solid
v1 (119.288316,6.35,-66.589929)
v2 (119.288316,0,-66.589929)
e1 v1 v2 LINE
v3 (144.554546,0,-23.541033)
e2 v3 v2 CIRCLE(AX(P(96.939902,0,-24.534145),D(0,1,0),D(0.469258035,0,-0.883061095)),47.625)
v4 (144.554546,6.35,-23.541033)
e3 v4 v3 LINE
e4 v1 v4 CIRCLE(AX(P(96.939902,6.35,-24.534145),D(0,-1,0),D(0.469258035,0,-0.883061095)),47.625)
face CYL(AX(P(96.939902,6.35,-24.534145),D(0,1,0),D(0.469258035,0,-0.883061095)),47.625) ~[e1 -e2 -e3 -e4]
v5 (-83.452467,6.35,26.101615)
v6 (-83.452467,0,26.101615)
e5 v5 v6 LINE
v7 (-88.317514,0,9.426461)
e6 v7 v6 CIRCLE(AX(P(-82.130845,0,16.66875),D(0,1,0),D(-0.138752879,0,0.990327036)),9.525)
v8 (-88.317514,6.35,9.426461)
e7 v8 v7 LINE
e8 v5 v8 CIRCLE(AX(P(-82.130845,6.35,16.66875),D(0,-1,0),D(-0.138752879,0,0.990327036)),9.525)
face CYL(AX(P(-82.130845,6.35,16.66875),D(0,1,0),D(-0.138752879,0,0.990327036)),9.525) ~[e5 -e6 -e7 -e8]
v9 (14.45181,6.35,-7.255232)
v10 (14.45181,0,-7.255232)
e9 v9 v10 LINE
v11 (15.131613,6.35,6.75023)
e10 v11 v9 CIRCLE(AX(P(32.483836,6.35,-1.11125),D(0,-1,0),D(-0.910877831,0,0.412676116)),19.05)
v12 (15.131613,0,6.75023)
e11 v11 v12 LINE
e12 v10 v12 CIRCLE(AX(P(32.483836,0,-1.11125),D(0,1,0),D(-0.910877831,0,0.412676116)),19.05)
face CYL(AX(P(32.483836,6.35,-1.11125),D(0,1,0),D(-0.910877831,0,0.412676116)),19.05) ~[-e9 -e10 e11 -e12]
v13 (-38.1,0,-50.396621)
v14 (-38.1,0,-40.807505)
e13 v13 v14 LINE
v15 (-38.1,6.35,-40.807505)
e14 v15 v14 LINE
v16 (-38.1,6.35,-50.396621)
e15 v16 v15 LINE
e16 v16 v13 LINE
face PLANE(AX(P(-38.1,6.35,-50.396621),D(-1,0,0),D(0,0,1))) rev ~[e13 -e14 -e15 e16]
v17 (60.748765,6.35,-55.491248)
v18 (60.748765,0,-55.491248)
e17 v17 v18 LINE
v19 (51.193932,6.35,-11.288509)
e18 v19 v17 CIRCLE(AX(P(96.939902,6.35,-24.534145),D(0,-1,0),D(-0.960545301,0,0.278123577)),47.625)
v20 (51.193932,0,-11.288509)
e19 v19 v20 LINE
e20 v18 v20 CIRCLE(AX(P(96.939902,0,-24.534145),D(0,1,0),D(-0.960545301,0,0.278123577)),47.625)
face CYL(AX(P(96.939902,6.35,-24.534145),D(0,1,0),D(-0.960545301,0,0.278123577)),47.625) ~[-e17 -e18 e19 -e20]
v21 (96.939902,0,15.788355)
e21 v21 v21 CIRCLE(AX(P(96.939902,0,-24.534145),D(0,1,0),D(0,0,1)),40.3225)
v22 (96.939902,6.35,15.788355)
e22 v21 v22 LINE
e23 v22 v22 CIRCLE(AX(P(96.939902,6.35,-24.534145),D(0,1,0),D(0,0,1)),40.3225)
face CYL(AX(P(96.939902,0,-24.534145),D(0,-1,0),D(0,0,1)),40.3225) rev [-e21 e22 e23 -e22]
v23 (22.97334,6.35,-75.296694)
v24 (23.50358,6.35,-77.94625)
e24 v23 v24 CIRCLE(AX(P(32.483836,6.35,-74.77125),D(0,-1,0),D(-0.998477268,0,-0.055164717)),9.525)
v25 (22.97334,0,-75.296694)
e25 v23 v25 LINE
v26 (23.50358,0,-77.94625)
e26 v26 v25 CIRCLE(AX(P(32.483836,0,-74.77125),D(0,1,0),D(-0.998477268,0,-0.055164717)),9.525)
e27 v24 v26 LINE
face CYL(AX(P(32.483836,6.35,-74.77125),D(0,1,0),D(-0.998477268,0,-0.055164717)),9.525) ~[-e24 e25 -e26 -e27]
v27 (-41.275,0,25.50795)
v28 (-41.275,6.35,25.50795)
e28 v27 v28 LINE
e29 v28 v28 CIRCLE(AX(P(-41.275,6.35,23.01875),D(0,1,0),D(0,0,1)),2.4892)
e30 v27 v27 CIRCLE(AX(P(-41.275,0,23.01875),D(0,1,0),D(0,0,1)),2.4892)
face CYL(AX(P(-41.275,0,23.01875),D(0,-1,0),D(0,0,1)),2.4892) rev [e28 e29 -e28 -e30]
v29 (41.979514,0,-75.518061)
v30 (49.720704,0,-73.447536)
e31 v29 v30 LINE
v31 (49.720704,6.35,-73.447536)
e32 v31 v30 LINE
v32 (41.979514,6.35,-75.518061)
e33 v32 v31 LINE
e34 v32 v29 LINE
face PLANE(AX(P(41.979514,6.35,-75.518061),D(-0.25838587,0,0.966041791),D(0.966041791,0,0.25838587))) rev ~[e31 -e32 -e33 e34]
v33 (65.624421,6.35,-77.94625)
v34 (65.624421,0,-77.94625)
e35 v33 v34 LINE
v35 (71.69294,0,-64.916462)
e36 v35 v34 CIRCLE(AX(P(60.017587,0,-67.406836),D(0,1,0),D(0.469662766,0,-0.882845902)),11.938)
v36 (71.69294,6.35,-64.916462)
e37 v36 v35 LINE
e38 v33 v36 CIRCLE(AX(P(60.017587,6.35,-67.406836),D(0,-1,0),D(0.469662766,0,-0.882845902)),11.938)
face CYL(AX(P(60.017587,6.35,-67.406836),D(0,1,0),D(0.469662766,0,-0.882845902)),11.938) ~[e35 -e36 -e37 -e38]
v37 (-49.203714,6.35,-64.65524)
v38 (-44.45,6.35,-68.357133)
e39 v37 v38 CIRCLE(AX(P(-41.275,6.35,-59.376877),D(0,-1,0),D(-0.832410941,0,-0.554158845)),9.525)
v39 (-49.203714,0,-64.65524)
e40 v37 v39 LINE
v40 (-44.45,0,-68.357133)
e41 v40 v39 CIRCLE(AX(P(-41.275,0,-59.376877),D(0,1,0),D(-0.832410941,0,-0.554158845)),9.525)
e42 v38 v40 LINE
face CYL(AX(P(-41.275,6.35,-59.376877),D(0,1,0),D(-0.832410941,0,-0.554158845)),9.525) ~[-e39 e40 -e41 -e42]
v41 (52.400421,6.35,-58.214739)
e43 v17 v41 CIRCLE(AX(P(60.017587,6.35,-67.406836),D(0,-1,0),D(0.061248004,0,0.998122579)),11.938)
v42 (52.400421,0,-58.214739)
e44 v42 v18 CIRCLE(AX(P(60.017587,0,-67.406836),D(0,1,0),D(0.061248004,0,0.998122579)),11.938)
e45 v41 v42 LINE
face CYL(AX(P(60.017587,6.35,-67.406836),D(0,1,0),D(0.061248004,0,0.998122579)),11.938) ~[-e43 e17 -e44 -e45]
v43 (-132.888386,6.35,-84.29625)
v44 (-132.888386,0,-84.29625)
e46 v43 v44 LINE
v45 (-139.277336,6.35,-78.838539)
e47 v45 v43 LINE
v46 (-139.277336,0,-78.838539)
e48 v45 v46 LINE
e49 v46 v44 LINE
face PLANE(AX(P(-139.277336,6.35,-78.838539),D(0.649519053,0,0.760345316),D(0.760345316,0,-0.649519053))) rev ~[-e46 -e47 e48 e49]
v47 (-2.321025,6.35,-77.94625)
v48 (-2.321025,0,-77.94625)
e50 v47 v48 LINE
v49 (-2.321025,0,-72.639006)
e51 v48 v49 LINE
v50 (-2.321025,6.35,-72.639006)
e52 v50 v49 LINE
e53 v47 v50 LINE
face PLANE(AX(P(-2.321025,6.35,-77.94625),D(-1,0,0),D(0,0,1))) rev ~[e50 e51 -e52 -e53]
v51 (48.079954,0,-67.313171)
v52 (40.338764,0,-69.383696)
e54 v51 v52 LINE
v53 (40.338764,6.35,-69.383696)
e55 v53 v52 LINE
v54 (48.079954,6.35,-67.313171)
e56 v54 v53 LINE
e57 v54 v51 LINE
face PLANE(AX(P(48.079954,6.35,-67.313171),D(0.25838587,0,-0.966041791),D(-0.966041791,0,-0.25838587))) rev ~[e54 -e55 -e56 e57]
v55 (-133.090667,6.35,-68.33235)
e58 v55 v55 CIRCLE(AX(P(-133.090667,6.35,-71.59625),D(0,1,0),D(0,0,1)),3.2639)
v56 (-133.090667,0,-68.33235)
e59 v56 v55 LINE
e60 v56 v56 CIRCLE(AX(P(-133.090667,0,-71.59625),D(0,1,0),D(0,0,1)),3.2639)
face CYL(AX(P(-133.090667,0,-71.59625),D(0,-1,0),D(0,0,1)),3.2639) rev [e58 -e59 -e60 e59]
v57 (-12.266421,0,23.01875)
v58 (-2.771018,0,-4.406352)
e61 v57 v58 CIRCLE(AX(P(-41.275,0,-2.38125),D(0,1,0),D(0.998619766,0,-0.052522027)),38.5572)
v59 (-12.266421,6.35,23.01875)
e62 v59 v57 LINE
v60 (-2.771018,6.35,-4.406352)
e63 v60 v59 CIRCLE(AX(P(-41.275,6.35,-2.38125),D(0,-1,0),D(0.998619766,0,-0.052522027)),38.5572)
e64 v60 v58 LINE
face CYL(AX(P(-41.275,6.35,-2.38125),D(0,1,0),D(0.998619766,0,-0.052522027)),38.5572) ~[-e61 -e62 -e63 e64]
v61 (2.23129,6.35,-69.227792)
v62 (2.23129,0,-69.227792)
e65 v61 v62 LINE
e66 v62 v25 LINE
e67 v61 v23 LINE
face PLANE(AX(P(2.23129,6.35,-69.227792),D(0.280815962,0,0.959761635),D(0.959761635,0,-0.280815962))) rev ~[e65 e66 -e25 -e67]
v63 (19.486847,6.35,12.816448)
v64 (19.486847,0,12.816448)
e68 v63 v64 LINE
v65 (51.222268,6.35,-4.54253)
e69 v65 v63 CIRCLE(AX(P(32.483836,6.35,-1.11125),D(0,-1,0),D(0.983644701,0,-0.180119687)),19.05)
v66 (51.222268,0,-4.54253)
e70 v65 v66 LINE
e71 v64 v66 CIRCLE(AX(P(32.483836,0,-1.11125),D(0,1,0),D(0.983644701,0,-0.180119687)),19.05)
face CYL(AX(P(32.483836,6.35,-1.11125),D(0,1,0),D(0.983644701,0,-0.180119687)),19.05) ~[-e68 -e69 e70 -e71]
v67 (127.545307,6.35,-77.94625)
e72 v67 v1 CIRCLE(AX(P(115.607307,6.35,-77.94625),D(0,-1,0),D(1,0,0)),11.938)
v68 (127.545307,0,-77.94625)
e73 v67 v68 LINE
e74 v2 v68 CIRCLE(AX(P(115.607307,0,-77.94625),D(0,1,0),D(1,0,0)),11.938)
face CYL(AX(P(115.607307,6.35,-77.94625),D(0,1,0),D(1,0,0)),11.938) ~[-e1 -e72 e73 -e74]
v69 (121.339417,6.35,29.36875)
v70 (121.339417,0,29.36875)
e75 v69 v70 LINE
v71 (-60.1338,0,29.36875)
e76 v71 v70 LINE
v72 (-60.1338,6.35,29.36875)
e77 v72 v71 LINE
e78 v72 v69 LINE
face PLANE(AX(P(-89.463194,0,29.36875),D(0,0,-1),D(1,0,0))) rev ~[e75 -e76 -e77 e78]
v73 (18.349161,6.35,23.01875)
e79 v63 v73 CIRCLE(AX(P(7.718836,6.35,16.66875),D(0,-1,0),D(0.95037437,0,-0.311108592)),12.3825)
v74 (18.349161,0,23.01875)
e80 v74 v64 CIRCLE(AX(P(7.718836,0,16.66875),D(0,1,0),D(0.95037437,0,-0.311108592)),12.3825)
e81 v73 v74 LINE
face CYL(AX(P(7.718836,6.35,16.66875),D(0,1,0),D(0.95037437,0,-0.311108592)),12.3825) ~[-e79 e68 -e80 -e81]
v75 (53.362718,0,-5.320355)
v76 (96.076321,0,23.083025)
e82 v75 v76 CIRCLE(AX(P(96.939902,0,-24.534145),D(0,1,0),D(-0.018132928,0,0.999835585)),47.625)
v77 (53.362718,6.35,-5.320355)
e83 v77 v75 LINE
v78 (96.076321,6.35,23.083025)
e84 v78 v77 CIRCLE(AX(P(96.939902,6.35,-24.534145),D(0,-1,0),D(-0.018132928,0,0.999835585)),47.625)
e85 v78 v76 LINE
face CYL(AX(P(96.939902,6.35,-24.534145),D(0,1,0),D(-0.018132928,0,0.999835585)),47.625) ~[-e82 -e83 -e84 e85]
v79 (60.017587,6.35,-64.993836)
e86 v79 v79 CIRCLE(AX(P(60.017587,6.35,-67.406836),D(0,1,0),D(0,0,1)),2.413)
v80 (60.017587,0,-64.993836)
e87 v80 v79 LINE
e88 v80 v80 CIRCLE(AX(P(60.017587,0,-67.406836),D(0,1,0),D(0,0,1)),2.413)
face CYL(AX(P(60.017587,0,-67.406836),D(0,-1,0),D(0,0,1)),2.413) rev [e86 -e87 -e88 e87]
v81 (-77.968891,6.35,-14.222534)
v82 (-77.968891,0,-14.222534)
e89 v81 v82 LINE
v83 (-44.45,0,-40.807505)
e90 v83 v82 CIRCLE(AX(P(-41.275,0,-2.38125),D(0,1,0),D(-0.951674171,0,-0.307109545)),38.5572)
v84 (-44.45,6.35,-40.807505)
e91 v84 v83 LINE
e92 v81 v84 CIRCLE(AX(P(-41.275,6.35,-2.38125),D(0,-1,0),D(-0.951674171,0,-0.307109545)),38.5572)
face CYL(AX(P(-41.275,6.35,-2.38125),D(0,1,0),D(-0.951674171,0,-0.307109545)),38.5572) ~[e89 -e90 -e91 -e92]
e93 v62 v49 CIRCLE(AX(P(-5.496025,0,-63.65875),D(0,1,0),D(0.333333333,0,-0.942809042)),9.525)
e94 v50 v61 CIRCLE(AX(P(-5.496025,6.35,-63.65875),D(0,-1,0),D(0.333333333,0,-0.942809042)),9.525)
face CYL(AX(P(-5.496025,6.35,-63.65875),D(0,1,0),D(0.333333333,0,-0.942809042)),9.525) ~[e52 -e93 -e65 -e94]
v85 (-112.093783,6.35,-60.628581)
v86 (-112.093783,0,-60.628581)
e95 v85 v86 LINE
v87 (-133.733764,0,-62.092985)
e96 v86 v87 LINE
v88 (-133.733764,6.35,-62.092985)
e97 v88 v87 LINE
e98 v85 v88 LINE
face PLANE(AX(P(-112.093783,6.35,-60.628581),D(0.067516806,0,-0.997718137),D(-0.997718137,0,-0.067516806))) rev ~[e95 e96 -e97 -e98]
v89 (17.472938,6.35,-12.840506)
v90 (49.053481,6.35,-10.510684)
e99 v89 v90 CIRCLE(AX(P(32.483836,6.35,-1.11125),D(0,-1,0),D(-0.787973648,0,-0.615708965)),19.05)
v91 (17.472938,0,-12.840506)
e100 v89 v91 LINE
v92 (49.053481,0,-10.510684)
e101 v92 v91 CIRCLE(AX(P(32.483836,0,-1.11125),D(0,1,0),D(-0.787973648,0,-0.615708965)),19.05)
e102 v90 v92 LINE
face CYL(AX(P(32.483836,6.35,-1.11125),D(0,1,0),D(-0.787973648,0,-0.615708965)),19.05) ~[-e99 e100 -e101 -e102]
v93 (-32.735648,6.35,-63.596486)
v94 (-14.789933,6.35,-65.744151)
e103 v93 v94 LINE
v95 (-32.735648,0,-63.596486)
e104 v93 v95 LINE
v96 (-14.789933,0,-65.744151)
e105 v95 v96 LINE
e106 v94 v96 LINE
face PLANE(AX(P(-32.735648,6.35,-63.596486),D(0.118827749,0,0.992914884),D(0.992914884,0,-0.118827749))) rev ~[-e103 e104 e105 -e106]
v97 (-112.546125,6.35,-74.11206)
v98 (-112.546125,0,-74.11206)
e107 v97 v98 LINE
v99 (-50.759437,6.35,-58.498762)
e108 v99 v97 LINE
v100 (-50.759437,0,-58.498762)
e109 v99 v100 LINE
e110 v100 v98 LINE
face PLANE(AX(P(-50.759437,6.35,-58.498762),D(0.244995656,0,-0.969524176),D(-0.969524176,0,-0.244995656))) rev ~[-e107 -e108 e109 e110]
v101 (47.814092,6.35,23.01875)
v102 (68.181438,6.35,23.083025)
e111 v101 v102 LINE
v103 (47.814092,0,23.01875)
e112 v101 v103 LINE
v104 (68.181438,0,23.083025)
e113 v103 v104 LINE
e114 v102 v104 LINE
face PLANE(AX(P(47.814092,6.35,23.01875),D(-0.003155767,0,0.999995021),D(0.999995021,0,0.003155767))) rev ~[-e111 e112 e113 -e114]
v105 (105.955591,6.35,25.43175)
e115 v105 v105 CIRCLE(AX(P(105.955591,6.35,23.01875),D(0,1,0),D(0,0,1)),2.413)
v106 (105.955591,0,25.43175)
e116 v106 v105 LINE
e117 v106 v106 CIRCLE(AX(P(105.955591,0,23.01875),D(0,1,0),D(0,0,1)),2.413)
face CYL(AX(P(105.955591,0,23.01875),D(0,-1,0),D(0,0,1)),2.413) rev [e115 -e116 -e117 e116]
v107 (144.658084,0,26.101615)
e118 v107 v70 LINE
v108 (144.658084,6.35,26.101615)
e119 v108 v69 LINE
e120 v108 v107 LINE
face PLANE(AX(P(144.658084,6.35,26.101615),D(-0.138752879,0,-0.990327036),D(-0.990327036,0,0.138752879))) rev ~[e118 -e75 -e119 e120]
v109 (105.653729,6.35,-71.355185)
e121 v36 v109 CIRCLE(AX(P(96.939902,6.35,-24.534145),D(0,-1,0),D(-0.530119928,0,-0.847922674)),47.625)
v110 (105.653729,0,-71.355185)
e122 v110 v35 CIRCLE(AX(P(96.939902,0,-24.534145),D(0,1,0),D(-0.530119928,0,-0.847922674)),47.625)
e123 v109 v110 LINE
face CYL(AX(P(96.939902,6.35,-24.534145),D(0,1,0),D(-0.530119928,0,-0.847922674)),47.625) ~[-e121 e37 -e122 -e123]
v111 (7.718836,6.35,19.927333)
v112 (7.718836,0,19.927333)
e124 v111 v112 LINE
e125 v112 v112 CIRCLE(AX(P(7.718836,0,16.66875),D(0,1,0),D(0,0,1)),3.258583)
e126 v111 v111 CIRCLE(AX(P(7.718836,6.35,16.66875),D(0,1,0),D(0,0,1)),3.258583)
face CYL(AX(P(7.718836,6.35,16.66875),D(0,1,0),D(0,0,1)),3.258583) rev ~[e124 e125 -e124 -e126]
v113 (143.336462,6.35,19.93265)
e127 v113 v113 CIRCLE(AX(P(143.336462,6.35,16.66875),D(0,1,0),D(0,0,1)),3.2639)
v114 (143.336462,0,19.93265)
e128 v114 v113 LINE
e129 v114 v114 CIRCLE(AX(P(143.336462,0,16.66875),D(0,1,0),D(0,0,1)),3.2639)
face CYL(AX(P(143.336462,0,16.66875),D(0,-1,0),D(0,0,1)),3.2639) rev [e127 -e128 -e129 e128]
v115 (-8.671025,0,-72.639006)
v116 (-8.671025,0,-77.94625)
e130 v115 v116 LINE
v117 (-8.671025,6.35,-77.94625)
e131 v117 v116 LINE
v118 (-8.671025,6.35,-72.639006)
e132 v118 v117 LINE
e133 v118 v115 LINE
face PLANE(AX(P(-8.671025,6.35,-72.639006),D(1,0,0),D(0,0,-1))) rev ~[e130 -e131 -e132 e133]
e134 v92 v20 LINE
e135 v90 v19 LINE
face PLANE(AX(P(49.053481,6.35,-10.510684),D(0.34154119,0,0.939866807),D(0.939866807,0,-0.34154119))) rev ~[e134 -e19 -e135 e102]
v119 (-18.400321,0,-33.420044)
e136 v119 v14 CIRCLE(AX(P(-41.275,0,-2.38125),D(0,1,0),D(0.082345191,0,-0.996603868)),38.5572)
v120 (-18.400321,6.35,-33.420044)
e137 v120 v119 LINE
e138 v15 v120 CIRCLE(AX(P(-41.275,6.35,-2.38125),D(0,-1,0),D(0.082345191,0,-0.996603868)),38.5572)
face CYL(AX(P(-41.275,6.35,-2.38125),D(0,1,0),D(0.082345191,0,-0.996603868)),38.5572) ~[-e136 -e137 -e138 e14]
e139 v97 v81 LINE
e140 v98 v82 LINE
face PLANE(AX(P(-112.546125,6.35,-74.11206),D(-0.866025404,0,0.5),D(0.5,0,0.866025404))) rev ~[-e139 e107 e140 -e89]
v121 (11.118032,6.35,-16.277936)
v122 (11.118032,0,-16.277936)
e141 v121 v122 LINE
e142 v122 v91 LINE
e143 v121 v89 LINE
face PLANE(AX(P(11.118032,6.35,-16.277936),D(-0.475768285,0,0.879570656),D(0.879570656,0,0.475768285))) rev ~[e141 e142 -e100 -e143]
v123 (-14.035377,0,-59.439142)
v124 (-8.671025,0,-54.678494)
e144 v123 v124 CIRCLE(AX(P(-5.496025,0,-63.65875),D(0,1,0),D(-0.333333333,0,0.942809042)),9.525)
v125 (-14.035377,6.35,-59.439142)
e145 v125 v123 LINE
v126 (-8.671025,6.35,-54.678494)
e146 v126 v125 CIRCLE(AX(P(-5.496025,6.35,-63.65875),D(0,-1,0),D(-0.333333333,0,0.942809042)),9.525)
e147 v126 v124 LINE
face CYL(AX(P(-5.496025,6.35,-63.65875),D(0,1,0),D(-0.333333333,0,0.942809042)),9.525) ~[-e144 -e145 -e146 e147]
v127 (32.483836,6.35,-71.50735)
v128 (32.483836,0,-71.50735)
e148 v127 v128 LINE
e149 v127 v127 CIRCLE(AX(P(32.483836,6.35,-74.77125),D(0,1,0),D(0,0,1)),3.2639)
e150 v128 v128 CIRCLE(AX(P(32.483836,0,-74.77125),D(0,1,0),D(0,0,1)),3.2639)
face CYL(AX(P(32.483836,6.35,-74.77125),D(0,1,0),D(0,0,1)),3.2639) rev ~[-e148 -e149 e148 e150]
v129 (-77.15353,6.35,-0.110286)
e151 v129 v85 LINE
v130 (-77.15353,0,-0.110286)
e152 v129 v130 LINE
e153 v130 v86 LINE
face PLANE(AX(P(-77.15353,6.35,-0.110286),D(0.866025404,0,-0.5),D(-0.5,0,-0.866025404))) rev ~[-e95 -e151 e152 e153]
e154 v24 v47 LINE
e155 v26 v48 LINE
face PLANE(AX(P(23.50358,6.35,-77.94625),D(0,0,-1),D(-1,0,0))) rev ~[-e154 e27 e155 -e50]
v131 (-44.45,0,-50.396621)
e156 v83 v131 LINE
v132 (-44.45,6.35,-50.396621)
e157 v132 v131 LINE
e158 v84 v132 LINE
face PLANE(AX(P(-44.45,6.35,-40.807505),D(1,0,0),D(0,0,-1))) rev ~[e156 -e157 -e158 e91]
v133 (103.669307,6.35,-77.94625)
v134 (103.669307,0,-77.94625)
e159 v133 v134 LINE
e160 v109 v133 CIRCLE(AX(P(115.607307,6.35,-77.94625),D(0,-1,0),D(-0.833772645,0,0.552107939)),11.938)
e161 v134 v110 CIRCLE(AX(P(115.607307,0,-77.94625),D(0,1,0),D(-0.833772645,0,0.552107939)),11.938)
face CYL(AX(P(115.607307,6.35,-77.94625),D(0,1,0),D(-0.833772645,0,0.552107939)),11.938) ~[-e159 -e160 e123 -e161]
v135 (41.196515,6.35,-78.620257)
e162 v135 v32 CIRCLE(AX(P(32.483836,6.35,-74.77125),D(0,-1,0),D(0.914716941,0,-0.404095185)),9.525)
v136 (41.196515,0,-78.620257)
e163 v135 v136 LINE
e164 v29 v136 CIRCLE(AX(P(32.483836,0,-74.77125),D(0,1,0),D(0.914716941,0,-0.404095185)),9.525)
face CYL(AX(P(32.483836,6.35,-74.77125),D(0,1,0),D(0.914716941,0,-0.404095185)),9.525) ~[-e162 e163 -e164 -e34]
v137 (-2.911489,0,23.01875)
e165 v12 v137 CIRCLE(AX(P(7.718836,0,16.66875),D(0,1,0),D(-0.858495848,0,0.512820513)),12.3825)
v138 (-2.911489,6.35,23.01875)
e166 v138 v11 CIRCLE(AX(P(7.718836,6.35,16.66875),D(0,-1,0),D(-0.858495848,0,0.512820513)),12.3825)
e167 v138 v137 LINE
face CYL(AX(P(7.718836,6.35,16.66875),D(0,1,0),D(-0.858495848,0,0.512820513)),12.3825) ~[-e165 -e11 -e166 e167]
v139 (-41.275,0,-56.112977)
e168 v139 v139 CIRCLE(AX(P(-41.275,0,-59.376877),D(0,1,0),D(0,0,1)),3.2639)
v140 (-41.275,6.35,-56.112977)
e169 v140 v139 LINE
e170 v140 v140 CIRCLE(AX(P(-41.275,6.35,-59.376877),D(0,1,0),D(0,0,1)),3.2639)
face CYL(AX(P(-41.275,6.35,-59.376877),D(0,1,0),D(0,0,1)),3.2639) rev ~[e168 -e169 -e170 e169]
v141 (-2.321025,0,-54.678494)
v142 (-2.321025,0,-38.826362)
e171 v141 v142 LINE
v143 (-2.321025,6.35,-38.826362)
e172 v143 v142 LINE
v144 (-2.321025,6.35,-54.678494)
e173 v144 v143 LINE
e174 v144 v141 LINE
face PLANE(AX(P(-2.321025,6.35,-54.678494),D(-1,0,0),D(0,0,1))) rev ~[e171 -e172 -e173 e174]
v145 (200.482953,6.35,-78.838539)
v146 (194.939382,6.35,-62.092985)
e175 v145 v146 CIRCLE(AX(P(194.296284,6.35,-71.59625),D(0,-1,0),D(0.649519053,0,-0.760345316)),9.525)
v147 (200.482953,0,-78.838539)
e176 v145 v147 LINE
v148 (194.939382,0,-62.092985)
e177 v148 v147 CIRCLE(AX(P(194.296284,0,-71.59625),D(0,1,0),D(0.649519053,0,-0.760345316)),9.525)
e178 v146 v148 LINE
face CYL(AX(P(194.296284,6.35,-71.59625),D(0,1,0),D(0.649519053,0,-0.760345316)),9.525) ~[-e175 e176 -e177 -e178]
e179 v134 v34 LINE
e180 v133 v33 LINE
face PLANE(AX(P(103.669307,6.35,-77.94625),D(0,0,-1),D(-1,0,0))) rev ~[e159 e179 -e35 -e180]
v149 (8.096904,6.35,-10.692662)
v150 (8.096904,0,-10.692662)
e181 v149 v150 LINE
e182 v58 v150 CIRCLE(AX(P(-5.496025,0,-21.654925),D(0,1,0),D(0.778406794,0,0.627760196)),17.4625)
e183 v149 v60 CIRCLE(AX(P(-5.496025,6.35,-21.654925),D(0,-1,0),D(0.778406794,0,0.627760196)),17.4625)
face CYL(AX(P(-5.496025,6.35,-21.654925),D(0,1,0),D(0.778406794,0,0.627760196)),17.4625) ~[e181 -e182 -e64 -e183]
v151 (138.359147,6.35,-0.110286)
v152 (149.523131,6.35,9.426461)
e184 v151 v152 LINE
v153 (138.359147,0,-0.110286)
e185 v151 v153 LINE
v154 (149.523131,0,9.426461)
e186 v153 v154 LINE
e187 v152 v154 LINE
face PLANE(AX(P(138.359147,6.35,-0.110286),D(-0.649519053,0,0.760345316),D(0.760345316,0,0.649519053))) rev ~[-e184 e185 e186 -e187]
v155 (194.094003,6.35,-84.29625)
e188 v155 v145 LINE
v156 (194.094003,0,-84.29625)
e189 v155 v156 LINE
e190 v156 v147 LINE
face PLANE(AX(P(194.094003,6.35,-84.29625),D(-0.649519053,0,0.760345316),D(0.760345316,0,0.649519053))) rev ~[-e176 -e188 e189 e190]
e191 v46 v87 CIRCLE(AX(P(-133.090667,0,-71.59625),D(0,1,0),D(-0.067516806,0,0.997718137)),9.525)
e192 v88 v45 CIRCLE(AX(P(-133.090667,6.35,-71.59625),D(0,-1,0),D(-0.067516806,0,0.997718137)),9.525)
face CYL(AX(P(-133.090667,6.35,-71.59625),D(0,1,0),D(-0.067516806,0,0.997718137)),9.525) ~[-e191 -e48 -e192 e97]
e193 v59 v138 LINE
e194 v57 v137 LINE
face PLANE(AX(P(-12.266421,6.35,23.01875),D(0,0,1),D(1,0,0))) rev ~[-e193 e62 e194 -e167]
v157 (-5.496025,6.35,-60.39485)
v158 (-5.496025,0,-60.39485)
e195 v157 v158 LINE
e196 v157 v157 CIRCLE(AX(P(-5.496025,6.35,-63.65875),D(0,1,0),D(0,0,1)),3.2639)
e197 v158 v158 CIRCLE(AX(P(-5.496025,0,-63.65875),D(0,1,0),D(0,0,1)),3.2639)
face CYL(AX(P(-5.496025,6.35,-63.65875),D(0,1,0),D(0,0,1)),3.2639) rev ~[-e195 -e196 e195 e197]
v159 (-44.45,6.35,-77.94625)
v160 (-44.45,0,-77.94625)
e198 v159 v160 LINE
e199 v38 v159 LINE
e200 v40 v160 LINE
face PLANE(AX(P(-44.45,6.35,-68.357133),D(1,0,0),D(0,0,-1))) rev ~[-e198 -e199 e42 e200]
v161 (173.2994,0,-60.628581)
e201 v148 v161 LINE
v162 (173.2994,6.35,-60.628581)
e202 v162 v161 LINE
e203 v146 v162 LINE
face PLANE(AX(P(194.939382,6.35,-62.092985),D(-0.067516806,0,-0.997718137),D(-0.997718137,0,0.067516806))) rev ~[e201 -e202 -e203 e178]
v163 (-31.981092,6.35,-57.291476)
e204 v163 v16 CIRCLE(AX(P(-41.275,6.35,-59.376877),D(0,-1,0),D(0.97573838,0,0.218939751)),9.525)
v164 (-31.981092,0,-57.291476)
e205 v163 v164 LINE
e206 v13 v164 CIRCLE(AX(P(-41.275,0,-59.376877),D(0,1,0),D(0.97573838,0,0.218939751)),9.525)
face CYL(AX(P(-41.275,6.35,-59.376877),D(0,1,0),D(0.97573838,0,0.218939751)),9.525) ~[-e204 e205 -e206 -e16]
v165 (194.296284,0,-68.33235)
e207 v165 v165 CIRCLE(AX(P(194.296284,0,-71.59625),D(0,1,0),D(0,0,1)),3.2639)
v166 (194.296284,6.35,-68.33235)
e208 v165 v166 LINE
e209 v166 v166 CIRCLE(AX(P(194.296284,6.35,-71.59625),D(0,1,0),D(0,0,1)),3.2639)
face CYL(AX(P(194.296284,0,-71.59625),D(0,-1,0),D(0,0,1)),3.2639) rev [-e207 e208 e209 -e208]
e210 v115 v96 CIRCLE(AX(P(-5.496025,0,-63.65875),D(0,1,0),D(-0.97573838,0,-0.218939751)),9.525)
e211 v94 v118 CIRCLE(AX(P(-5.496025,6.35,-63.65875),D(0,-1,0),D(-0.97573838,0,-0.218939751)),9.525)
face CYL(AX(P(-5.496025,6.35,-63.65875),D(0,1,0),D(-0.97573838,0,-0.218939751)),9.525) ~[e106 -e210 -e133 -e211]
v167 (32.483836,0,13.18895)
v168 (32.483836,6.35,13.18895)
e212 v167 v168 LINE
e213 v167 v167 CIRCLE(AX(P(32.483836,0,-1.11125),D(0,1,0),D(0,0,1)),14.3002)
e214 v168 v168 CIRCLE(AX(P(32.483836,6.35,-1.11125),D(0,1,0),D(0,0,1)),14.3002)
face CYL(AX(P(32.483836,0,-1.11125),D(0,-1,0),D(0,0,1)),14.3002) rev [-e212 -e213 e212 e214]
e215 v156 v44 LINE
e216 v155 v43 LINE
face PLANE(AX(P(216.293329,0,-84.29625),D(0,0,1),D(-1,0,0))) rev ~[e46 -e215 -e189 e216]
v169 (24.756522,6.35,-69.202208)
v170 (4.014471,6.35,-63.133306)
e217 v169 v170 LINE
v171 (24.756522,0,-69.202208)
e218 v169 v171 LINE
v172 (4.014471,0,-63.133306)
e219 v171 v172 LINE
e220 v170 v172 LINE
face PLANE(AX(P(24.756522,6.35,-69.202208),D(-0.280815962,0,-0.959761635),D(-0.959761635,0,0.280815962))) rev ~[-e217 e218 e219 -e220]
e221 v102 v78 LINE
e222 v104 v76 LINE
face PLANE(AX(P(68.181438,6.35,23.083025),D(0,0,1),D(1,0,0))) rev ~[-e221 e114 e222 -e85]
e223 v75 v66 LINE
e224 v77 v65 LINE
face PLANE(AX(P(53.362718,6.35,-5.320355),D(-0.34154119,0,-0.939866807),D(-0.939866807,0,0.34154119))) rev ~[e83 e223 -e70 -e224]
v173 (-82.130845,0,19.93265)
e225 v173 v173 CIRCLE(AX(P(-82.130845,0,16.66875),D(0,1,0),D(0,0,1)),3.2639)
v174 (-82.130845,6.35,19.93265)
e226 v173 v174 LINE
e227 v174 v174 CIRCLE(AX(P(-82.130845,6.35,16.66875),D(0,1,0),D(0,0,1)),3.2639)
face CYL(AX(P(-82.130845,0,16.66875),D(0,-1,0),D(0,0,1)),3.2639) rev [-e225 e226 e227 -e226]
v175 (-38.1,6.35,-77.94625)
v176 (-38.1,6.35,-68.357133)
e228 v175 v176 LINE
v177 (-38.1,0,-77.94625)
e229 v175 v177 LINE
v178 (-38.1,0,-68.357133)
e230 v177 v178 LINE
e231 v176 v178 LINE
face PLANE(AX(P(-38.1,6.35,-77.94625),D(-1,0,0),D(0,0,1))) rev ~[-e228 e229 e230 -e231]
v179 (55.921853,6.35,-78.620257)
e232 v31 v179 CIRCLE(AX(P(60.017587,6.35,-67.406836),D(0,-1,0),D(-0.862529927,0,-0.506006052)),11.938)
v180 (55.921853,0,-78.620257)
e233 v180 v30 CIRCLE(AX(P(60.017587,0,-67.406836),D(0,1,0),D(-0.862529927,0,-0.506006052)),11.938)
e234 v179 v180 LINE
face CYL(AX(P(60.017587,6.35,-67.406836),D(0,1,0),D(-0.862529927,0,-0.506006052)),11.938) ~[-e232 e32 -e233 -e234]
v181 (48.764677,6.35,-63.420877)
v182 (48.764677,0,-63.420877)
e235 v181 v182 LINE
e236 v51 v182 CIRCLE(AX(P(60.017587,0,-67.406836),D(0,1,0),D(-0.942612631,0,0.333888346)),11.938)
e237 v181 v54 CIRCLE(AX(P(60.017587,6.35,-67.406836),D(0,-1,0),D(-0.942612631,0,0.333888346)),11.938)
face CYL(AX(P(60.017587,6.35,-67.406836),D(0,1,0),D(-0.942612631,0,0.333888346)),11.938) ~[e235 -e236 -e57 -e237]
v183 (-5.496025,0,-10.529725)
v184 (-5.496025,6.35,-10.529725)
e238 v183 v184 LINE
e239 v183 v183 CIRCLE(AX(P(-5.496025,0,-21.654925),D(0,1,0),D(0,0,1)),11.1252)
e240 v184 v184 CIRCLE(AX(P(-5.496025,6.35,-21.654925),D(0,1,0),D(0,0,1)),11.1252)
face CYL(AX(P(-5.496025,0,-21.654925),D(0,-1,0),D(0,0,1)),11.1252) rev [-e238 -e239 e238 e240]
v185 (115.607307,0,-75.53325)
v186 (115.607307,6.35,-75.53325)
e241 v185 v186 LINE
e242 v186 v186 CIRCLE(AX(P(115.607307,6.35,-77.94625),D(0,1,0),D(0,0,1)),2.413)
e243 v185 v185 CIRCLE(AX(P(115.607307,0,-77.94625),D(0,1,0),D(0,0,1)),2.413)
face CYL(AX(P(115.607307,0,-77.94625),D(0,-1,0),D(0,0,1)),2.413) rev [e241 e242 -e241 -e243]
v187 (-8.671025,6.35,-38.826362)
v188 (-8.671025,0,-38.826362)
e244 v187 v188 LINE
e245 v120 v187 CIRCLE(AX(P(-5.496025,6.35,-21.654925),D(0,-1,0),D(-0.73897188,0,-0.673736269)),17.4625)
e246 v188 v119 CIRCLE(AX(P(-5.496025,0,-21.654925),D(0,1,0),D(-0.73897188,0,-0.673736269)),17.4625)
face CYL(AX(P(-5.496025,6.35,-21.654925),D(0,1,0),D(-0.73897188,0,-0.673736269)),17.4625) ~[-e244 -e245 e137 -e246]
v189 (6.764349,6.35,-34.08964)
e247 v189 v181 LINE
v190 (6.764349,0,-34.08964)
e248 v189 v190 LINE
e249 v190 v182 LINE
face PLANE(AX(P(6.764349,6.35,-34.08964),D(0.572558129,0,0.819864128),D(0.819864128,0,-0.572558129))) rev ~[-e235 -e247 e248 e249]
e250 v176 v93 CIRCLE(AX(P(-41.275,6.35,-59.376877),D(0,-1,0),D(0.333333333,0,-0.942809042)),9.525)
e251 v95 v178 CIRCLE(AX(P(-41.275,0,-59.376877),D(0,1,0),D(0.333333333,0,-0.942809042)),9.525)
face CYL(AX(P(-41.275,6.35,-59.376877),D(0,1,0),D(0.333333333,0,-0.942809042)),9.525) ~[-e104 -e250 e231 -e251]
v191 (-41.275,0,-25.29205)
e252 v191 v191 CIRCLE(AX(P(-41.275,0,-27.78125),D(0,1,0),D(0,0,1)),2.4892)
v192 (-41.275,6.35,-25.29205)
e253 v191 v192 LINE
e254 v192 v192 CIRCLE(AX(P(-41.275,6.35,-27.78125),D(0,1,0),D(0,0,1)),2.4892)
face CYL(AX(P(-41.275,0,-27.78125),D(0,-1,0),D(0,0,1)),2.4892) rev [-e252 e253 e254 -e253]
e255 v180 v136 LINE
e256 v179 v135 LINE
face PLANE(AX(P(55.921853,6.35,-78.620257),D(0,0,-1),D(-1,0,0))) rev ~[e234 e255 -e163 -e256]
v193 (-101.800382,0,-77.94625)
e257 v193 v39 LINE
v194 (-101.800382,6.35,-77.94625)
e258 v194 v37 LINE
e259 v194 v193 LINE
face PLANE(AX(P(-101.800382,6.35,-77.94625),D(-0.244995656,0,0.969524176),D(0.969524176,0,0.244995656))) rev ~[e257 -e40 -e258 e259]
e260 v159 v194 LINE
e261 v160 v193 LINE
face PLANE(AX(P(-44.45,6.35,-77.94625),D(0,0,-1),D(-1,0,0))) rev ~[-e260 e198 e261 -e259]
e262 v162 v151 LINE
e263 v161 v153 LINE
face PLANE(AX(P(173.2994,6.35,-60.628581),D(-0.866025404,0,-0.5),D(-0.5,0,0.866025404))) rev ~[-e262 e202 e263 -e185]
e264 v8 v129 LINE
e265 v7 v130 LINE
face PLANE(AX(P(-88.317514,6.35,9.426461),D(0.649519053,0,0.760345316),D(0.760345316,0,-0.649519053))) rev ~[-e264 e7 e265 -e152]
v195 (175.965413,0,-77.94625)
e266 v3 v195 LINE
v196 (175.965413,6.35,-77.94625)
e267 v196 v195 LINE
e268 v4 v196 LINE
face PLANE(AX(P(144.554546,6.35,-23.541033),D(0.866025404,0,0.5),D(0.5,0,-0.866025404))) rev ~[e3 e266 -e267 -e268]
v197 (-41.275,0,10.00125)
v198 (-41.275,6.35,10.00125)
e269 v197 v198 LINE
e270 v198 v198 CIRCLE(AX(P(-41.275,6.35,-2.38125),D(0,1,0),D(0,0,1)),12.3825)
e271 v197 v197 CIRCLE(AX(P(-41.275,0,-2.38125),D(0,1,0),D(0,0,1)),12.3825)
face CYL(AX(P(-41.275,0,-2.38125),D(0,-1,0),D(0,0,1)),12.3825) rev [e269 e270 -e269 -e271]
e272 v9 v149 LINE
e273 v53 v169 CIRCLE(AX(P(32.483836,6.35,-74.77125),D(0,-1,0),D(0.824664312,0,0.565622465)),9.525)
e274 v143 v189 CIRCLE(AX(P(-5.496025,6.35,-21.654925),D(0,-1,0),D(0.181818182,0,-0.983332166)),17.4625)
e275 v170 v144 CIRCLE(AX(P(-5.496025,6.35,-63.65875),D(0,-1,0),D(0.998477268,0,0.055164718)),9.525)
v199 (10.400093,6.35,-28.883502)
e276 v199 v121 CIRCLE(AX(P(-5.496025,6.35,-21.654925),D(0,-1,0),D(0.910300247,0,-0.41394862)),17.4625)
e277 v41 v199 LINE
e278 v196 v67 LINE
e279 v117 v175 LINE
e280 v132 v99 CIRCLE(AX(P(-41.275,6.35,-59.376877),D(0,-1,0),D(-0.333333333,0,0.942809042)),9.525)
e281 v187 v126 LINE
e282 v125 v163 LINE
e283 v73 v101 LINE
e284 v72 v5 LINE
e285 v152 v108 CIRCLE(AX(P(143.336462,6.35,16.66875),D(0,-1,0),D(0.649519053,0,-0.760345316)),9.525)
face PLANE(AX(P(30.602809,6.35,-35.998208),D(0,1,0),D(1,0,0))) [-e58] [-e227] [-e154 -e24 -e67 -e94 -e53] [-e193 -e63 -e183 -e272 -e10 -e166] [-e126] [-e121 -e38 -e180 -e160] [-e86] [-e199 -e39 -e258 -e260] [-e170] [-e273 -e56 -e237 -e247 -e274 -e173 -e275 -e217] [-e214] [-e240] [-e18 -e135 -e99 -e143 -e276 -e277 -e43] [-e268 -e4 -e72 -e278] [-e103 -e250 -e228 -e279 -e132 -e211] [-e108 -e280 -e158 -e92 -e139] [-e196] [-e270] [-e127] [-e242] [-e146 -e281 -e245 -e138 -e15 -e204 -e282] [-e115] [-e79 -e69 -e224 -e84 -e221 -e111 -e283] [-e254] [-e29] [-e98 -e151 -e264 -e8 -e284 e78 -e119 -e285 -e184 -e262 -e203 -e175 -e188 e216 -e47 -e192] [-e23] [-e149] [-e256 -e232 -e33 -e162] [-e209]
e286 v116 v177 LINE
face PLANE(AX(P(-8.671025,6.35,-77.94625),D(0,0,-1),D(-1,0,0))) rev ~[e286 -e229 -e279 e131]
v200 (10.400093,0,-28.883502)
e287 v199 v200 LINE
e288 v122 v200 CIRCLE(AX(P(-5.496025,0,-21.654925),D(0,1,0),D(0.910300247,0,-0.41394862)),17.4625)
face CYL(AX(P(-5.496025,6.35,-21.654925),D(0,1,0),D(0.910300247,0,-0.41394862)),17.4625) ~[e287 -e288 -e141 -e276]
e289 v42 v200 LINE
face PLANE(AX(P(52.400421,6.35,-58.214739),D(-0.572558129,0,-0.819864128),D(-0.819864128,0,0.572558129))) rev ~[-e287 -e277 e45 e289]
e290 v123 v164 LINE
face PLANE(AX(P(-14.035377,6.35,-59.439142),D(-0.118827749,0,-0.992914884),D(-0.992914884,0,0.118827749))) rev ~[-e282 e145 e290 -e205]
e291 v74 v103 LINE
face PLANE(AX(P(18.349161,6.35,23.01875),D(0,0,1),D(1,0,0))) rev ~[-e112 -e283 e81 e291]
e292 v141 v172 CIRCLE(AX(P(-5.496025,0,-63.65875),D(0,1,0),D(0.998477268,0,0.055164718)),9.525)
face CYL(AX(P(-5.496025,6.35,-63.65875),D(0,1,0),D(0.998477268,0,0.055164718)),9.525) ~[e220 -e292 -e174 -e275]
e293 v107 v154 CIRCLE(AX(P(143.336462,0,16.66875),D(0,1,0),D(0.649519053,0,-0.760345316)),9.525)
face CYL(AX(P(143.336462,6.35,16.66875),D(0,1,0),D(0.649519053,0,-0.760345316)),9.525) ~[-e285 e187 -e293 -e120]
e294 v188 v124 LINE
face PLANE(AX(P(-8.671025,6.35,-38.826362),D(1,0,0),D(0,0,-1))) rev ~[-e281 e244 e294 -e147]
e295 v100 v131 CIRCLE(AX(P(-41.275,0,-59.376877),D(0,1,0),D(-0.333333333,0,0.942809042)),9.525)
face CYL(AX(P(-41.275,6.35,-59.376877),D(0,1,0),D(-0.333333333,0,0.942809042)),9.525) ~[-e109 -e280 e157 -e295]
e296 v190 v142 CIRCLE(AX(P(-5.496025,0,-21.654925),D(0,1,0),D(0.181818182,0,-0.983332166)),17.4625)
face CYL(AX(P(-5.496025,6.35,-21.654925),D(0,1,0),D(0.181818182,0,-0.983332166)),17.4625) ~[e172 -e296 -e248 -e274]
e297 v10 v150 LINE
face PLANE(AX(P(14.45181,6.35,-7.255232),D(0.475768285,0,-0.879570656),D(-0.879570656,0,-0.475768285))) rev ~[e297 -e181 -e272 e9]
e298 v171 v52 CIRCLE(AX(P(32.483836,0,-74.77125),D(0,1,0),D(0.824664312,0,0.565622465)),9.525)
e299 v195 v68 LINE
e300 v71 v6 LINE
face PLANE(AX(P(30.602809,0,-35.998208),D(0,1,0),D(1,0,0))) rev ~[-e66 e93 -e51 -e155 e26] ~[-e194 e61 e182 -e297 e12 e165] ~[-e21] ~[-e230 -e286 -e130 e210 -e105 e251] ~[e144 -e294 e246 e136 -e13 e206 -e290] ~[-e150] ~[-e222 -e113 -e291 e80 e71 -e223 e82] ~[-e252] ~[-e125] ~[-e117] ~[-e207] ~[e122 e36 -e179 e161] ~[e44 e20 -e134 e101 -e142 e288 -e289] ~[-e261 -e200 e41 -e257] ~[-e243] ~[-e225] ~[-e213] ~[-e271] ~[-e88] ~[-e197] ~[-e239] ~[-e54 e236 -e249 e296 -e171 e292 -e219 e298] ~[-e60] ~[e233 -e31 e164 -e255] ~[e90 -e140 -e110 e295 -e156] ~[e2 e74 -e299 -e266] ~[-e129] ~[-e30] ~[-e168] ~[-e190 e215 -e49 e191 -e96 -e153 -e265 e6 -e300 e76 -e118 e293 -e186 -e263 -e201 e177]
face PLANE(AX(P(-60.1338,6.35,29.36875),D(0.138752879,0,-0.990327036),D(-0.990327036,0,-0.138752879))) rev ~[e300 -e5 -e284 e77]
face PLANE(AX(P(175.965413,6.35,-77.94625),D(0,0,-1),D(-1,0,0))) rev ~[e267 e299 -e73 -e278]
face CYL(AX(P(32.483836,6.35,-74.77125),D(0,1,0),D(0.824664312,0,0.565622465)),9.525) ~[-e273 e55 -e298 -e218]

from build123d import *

# Parameters (mm, degrees)
SKETCH1_R           = 12.3825
SKETCH1_R_2         = 2.4892
SKETCH1_R_3         = 11.1252
SKETCH1_R_4         = 14.3002
SKETCH1_R_5         = 2.413
SKETCH1_R_6         = 40.3225
SKETCH1_R_7         = 3.2639
BOSS_EXTRUDE1_DEPTH = 6.35
SKETCH3_R           = 3.2639
SKETCH3_R_2         = 3.258583446
CUT_EXTRUDE2_DEPTH  = 233.226149567


with BuildPart() as part:
    # Sketch1 → Boss-Extrude1 (new body)
    with BuildSketch(Plane(origin=(0, 0, 0), x_dir=(1, 0, 0), z_dir=(0, 1, 0))):
        Polygon((-155.087712155, 84.29625), (-89.463193808, -29.36875), (150.668810904, -29.36875), (216.293329251, 84.29625), align=None)
        with Locations(Location((-41.275, 2.38125, 0), (0, 0, 270))):
            Circle(SKETCH1_R, mode=Mode.SUBTRACT)
        with Locations(Location((-41.275, 27.78125, 0), (0, 0, 270))):
            Circle(SKETCH1_R_2, mode=Mode.SUBTRACT)
        with Locations(Location((-41.275, -23.01875, 0), (0, 0, 270))):
            Circle(SKETCH1_R_2, mode=Mode.SUBTRACT)
        with Locations(Location((-5.496024757, 21.654924548, 0), (0, 0, 270))):
            Circle(SKETCH1_R_3, mode=Mode.SUBTRACT)
        with Locations(Location((32.48383617, 1.11125, 0), (0, 0, 270))):
            Circle(SKETCH1_R_4, mode=Mode.SUBTRACT)
        with Locations(Location((60.01758652, 67.406835627, 0), (0, 0, 270))):
            Circle(SKETCH1_R_5, mode=Mode.SUBTRACT)
        with Locations(Location((115.607306669, 77.94625, 0), (0, 0, 270))):
            Circle(SKETCH1_R_5, mode=Mode.SUBTRACT)
        with Locations(Location((105.955591438, -23.01875, 0), (0, 0, 270))):
            Circle(SKETCH1_R_5, mode=Mode.SUBTRACT)
        with Locations(Location((96.939901816, 24.534144815, 0), (0, 0, 270))):
            Circle(SKETCH1_R_6, mode=Mode.SUBTRACT)
        with Locations(Location((-133.090666899, 71.59625, 0), (0, 0, 270))):
            Circle(SKETCH1_R_7, mode=Mode.SUBTRACT)
        with Locations(Location((-82.130845389, -16.66875, 0), (0, 0, 270))):
            Circle(SKETCH1_R_7, mode=Mode.SUBTRACT)
        with Locations(Location((194.296283995, 71.59625, 0), (0, 0, 270))):
            Circle(SKETCH1_R_7, mode=Mode.SUBTRACT)
        with Locations(Location((143.336462485, -16.66875, 0), (0, 0, 270))):
            Circle(SKETCH1_R_7, mode=Mode.SUBTRACT)
    extrude(amount=BOSS_EXTRUDE1_DEPTH)

    # Sketch3 → Cut-Extrude2 (cut, through all)
    with BuildSketch(Plane(origin=(0, 6.35, 0), x_dir=(1, 0, 0), z_dir=(0, 1, 0))):
        with BuildLine():
            Line((216.293329251, 84.29625), (194.094002759, 84.29625))
            Line((194.094002759, 84.29625), (200.482952973, 78.838539138))
            ThreePointArc((200.482952973, 78.838539138), (203.338674486, 68.602790594), (194.939381575, 62.092984745))
            Line((194.939381575, 62.092984745), (173.299400368, 60.628580757))
            Line((173.299400368, 60.628580757), (138.359146632, 0.110286058))
            Line((138.359146632, 0.110286058), (149.523131463, -9.426460862))
            ThreePointArc((149.523131463, -9.426460862), (152.480247084, -19.336488408), (144.658083658, -26.101615019))
            Line((144.658083658, -26.101615019), (121.339417229, -29.36875))
            Line((121.339417229, -29.36875), (150.668810904, -29.36875))
            Line((150.668810904, -29.36875), (216.293329251, 84.29625))
        make_face()
        with BuildLine():
            Line((-139.277335877, 78.838539138), (-132.888385663, 84.29625))
            Line((-132.888385663, 84.29625), (-155.087712155, 84.29625))
            Line((-155.087712155, 84.29625), (-89.463193808, -29.36875))
            Line((-89.463193808, -29.36875), (-60.133800133, -29.36875))
            Line((-60.133800133, -29.36875), (-83.452466562, -26.101615019))
            ThreePointArc((-83.452466562, -26.101615019), (-91.274629988, -19.336488408), (-88.317514367, -9.426460862))
            Line((-88.317514367, -9.426460862), (-77.153529536, 0.110286058))
            Line((-77.153529536, 0.110286058), (-112.093783272, 60.628580757))
            Line((-112.093783272, 60.628580757), (-133.733764479, 62.092984745))
            ThreePointArc((-133.733764479, 62.092984745), (-142.13305739, 68.602790594), (-139.277335877, 78.838539138))
        make_face()
        with BuildLine():
            Line((47.814092291, -23.01875), (68.181438384, -23.083024918))
            Line((68.181438384, -23.083024918), (96.076321123, -23.083024918))
            ThreePointArc((96.076321123, -23.083024918), (70.568830934, -15.123228341), (53.3627184, 5.320355219))
            Line((53.3627184, 5.320355219), (51.222267729, 4.542530038))
            ThreePointArc((51.222267729, 4.542530038), (41.625748882, -15.601856592), (19.486846811, -12.816447857))
            ThreePointArc((19.486846811, -12.816447857), (20.025058188, -18.04104949), (18.349161012, -23.01875))
            Line((18.349161012, -23.01875), (47.814092291, -23.01875))
        make_face()
        with BuildLine():
            ThreePointArc((65.624420624, 77.94625), (70.839432321, 72.447023863), (71.692940222, 64.916462174))
            ThreePointArc((71.692940222, 64.916462174), (88.068575871, 71.325599173), (105.653728832, 71.355185424))
            ThreePointArc((105.653728832, 71.355185424), (104.176172512, 74.504591113), (103.669306669, 77.94625))
            Line((103.669306669, 77.94625), (65.624420624, 77.94625))
        make_face()
        with BuildLine():
            Line((49.053481172, 10.510684265), (51.193931844, 11.288509446))
            ThreePointArc((51.193931844, 11.288509446), (50.390005045, 34.596338197), (60.748765196, 55.491248283))
            ThreePointArc((60.748765196, 55.491248283), (56.315080015, 56.057505709), (52.400421048, 58.214739339))
            Line((52.400421048, 58.214739339), (10.400093309, 28.883502325))
            ThreePointArc((10.400093309, 28.883502325), (11.938221759, 22.647877037), (11.11803249, 16.277935796))
            Line((11.11803249, 16.277935796), (17.472938166, 12.840505779))
            ThreePointArc((17.472938166, 12.840505779), (33.885421031, 20.109619927), (49.053481172, 10.510684265))
        make_face()
        with BuildLine():
            Line((-12.26642072, -23.01875), (-2.911488672, -23.01875))
            ThreePointArc((-2.911488672, -23.01875), (-0.572987431, -7.472448155), (15.13161349, -6.750230017))
            ThreePointArc((15.13161349, -6.750230017), (13.456237349, 0.187679153), (14.451809556, 7.255232113))
            Line((14.451809556, 7.255232113), (8.09690388, 10.69266213))
            ThreePointArc((8.09690388, 10.69266213), (3.247440056, 6.539014741), (-2.771017966, 4.40635231))
            ThreePointArc((-2.771017966, 4.40635231), (-4.839844683, -10.233706554), (-12.26642072, -23.01875))
        make_face()
        with BuildLine():
            Line((-50.759436627, 58.498761805), (-112.546125373, 74.112060259))
            Line((-112.546125373, 74.112060259), (-77.968891343, 14.222534134))
            ThreePointArc((-77.968891343, 14.222534134), (-65.234805689, 32.590278174), (-44.45, 40.807504655))
            Line((-44.45, 40.807504655), (-44.45, 50.396621207))
            ThreePointArc((-44.45, 50.396621207), (-48.790085129, 53.524602513), (-50.759436627, 58.498761805))
        make_face()
        with BuildLine():
            Line((-44.45, 77.94625), (-101.800382387, 77.94625))
            Line((-101.800382387, 77.94625), (-49.203714213, 64.655240325))
            ThreePointArc((-49.203714213, 64.655240325), (-47.127274815, 66.891962457), (-44.45, 68.357133449))
            Line((-44.45, 68.357133449), (-44.45, 77.94625))
        make_face()
        with BuildLine():
            Line((175.965412948, 77.94625), (127.545306669, 77.94625))
            ThreePointArc((127.545306669, 77.94625), (125.262868019, 70.925852645), (119.288315712, 66.58992945))
            ThreePointArc((119.288315712, 66.58992945), (138.013120037, 48.640811318), (144.554546133, 23.541032766))
            Line((144.554546133, 23.541032766), (175.965412948, 77.94625))
        make_face()
        with BuildLine():
            Line((-8.671024757, 77.94625), (-38.1, 77.94625))
            Line((-38.1, 77.94625), (-38.1, 68.357133449))
            ThreePointArc((-38.1, 68.357133449), (-34.952622948, 66.501003479), (-32.735648144, 63.596485707))
            Line((-32.735648144, 63.596485707), (-14.789932822, 65.744151131))
            ThreePointArc((-14.789932822, 65.744151131), (-12.620150909, 69.981127052), (-8.671024757, 72.639006121))
            Line((-8.671024757, 72.639006121), (-8.671024757, 77.94625))
        make_face()
        with BuildLine():
            Line((23.503580049, 77.94625), (-2.321024757, 77.94625))
            Line((-2.321024757, 77.94625), (-2.321024757, 72.639006121))
            ThreePointArc((-2.321024757, 72.639006121), (0.215735977, 71.281178374), (2.231289861, 69.227792449))
            Line((2.231289861, 69.227792449), (22.973340196, 75.296693933))
            ThreePointArc((22.973340196, 75.296693933), (23.144028083, 76.640370087), (23.503580049, 77.94625))
        make_face()
        with BuildLine():
            Line((6.76434919, 34.08963954), (48.764676929, 63.420876554))
            ThreePointArc((48.764676929, 63.420876554), (48.260129345, 65.338492141), (48.079953972, 67.313170504))
            Line((48.079953972, 67.313170504), (40.338763738, 69.383696019))
            ThreePointArc((40.338763738, 69.383696019), (32.5947676, 65.246895995), (24.756521552, 69.202207551))
            Line((24.756521552, 69.202207551), (4.014471217, 63.133306067))
            ThreePointArc((4.014471217, 63.133306067), (2.126403616, 57.946989266), (-2.321024757, 54.678493879))
            Line((-2.321024757, 54.678493879), (-2.321024757, 38.826362497))
            ThreePointArc((-2.321024757, 38.826362497), (2.576882297, 37.139338581), (6.76434919, 34.08963954))
        make_face()
        with BuildLine():
            Line((-14.035376613, 59.43914162), (-31.981091935, 57.291476197))
            ThreePointArc((-31.981091935, 57.291476197), (-34.150873849, 53.054500276), (-38.1, 50.396621207))
            Line((-38.1, 50.396621207), (-38.1, 40.807504655))
            ThreePointArc((-38.1, 40.807504655), (-27.736533159, 38.483432585), (-18.400321213, 33.420044149))
            ThreePointArc((-18.400321213, 33.420044149), (-13.977947484, 36.919127544), (-8.671024757, 38.826362497))
            Line((-8.671024757, 38.826362497), (-8.671024757, 54.678493879))
            ThreePointArc((-8.671024757, 54.678493879), (-11.818401809, 56.534623849), (-14.035376613, 59.43914162))
        make_face()
        with BuildLine():
            ThreePointArc((41.196515027, 78.620256643), (41.719201203, 77.102270743), (41.979514016, 75.518061392))
            Line((41.979514016, 75.518061392), (49.720704249, 73.447535877))
            ThreePointArc((49.720704249, 73.447535877), (52.370619317, 76.57415457), (55.921852993, 78.620256643))
            Line((55.921852993, 78.620256643), (41.196515027, 78.620256643))
        make_face()
        with Locations(Location((-5.496024757, 63.65875, 0), (0, 0, 270))):
            Circle(SKETCH3_R)
        with Locations(Location((-41.275, 59.376877328, 0), (0, 0, 270))):
            Circle(SKETCH3_R)
        with Locations(Location((7.71883617, -16.66875, 0), (0, 0, 270))):
            Circle(SKETCH3_R_2)
        with Locations(Location((32.48383617, 74.77125, 0), (0, 0, 270))):
            Circle(SKETCH3_R)
    extrude(amount=-CUT_EXTRUDE2_DEPTH, mode=Mode.SUBTRACT)


solid = part.part
